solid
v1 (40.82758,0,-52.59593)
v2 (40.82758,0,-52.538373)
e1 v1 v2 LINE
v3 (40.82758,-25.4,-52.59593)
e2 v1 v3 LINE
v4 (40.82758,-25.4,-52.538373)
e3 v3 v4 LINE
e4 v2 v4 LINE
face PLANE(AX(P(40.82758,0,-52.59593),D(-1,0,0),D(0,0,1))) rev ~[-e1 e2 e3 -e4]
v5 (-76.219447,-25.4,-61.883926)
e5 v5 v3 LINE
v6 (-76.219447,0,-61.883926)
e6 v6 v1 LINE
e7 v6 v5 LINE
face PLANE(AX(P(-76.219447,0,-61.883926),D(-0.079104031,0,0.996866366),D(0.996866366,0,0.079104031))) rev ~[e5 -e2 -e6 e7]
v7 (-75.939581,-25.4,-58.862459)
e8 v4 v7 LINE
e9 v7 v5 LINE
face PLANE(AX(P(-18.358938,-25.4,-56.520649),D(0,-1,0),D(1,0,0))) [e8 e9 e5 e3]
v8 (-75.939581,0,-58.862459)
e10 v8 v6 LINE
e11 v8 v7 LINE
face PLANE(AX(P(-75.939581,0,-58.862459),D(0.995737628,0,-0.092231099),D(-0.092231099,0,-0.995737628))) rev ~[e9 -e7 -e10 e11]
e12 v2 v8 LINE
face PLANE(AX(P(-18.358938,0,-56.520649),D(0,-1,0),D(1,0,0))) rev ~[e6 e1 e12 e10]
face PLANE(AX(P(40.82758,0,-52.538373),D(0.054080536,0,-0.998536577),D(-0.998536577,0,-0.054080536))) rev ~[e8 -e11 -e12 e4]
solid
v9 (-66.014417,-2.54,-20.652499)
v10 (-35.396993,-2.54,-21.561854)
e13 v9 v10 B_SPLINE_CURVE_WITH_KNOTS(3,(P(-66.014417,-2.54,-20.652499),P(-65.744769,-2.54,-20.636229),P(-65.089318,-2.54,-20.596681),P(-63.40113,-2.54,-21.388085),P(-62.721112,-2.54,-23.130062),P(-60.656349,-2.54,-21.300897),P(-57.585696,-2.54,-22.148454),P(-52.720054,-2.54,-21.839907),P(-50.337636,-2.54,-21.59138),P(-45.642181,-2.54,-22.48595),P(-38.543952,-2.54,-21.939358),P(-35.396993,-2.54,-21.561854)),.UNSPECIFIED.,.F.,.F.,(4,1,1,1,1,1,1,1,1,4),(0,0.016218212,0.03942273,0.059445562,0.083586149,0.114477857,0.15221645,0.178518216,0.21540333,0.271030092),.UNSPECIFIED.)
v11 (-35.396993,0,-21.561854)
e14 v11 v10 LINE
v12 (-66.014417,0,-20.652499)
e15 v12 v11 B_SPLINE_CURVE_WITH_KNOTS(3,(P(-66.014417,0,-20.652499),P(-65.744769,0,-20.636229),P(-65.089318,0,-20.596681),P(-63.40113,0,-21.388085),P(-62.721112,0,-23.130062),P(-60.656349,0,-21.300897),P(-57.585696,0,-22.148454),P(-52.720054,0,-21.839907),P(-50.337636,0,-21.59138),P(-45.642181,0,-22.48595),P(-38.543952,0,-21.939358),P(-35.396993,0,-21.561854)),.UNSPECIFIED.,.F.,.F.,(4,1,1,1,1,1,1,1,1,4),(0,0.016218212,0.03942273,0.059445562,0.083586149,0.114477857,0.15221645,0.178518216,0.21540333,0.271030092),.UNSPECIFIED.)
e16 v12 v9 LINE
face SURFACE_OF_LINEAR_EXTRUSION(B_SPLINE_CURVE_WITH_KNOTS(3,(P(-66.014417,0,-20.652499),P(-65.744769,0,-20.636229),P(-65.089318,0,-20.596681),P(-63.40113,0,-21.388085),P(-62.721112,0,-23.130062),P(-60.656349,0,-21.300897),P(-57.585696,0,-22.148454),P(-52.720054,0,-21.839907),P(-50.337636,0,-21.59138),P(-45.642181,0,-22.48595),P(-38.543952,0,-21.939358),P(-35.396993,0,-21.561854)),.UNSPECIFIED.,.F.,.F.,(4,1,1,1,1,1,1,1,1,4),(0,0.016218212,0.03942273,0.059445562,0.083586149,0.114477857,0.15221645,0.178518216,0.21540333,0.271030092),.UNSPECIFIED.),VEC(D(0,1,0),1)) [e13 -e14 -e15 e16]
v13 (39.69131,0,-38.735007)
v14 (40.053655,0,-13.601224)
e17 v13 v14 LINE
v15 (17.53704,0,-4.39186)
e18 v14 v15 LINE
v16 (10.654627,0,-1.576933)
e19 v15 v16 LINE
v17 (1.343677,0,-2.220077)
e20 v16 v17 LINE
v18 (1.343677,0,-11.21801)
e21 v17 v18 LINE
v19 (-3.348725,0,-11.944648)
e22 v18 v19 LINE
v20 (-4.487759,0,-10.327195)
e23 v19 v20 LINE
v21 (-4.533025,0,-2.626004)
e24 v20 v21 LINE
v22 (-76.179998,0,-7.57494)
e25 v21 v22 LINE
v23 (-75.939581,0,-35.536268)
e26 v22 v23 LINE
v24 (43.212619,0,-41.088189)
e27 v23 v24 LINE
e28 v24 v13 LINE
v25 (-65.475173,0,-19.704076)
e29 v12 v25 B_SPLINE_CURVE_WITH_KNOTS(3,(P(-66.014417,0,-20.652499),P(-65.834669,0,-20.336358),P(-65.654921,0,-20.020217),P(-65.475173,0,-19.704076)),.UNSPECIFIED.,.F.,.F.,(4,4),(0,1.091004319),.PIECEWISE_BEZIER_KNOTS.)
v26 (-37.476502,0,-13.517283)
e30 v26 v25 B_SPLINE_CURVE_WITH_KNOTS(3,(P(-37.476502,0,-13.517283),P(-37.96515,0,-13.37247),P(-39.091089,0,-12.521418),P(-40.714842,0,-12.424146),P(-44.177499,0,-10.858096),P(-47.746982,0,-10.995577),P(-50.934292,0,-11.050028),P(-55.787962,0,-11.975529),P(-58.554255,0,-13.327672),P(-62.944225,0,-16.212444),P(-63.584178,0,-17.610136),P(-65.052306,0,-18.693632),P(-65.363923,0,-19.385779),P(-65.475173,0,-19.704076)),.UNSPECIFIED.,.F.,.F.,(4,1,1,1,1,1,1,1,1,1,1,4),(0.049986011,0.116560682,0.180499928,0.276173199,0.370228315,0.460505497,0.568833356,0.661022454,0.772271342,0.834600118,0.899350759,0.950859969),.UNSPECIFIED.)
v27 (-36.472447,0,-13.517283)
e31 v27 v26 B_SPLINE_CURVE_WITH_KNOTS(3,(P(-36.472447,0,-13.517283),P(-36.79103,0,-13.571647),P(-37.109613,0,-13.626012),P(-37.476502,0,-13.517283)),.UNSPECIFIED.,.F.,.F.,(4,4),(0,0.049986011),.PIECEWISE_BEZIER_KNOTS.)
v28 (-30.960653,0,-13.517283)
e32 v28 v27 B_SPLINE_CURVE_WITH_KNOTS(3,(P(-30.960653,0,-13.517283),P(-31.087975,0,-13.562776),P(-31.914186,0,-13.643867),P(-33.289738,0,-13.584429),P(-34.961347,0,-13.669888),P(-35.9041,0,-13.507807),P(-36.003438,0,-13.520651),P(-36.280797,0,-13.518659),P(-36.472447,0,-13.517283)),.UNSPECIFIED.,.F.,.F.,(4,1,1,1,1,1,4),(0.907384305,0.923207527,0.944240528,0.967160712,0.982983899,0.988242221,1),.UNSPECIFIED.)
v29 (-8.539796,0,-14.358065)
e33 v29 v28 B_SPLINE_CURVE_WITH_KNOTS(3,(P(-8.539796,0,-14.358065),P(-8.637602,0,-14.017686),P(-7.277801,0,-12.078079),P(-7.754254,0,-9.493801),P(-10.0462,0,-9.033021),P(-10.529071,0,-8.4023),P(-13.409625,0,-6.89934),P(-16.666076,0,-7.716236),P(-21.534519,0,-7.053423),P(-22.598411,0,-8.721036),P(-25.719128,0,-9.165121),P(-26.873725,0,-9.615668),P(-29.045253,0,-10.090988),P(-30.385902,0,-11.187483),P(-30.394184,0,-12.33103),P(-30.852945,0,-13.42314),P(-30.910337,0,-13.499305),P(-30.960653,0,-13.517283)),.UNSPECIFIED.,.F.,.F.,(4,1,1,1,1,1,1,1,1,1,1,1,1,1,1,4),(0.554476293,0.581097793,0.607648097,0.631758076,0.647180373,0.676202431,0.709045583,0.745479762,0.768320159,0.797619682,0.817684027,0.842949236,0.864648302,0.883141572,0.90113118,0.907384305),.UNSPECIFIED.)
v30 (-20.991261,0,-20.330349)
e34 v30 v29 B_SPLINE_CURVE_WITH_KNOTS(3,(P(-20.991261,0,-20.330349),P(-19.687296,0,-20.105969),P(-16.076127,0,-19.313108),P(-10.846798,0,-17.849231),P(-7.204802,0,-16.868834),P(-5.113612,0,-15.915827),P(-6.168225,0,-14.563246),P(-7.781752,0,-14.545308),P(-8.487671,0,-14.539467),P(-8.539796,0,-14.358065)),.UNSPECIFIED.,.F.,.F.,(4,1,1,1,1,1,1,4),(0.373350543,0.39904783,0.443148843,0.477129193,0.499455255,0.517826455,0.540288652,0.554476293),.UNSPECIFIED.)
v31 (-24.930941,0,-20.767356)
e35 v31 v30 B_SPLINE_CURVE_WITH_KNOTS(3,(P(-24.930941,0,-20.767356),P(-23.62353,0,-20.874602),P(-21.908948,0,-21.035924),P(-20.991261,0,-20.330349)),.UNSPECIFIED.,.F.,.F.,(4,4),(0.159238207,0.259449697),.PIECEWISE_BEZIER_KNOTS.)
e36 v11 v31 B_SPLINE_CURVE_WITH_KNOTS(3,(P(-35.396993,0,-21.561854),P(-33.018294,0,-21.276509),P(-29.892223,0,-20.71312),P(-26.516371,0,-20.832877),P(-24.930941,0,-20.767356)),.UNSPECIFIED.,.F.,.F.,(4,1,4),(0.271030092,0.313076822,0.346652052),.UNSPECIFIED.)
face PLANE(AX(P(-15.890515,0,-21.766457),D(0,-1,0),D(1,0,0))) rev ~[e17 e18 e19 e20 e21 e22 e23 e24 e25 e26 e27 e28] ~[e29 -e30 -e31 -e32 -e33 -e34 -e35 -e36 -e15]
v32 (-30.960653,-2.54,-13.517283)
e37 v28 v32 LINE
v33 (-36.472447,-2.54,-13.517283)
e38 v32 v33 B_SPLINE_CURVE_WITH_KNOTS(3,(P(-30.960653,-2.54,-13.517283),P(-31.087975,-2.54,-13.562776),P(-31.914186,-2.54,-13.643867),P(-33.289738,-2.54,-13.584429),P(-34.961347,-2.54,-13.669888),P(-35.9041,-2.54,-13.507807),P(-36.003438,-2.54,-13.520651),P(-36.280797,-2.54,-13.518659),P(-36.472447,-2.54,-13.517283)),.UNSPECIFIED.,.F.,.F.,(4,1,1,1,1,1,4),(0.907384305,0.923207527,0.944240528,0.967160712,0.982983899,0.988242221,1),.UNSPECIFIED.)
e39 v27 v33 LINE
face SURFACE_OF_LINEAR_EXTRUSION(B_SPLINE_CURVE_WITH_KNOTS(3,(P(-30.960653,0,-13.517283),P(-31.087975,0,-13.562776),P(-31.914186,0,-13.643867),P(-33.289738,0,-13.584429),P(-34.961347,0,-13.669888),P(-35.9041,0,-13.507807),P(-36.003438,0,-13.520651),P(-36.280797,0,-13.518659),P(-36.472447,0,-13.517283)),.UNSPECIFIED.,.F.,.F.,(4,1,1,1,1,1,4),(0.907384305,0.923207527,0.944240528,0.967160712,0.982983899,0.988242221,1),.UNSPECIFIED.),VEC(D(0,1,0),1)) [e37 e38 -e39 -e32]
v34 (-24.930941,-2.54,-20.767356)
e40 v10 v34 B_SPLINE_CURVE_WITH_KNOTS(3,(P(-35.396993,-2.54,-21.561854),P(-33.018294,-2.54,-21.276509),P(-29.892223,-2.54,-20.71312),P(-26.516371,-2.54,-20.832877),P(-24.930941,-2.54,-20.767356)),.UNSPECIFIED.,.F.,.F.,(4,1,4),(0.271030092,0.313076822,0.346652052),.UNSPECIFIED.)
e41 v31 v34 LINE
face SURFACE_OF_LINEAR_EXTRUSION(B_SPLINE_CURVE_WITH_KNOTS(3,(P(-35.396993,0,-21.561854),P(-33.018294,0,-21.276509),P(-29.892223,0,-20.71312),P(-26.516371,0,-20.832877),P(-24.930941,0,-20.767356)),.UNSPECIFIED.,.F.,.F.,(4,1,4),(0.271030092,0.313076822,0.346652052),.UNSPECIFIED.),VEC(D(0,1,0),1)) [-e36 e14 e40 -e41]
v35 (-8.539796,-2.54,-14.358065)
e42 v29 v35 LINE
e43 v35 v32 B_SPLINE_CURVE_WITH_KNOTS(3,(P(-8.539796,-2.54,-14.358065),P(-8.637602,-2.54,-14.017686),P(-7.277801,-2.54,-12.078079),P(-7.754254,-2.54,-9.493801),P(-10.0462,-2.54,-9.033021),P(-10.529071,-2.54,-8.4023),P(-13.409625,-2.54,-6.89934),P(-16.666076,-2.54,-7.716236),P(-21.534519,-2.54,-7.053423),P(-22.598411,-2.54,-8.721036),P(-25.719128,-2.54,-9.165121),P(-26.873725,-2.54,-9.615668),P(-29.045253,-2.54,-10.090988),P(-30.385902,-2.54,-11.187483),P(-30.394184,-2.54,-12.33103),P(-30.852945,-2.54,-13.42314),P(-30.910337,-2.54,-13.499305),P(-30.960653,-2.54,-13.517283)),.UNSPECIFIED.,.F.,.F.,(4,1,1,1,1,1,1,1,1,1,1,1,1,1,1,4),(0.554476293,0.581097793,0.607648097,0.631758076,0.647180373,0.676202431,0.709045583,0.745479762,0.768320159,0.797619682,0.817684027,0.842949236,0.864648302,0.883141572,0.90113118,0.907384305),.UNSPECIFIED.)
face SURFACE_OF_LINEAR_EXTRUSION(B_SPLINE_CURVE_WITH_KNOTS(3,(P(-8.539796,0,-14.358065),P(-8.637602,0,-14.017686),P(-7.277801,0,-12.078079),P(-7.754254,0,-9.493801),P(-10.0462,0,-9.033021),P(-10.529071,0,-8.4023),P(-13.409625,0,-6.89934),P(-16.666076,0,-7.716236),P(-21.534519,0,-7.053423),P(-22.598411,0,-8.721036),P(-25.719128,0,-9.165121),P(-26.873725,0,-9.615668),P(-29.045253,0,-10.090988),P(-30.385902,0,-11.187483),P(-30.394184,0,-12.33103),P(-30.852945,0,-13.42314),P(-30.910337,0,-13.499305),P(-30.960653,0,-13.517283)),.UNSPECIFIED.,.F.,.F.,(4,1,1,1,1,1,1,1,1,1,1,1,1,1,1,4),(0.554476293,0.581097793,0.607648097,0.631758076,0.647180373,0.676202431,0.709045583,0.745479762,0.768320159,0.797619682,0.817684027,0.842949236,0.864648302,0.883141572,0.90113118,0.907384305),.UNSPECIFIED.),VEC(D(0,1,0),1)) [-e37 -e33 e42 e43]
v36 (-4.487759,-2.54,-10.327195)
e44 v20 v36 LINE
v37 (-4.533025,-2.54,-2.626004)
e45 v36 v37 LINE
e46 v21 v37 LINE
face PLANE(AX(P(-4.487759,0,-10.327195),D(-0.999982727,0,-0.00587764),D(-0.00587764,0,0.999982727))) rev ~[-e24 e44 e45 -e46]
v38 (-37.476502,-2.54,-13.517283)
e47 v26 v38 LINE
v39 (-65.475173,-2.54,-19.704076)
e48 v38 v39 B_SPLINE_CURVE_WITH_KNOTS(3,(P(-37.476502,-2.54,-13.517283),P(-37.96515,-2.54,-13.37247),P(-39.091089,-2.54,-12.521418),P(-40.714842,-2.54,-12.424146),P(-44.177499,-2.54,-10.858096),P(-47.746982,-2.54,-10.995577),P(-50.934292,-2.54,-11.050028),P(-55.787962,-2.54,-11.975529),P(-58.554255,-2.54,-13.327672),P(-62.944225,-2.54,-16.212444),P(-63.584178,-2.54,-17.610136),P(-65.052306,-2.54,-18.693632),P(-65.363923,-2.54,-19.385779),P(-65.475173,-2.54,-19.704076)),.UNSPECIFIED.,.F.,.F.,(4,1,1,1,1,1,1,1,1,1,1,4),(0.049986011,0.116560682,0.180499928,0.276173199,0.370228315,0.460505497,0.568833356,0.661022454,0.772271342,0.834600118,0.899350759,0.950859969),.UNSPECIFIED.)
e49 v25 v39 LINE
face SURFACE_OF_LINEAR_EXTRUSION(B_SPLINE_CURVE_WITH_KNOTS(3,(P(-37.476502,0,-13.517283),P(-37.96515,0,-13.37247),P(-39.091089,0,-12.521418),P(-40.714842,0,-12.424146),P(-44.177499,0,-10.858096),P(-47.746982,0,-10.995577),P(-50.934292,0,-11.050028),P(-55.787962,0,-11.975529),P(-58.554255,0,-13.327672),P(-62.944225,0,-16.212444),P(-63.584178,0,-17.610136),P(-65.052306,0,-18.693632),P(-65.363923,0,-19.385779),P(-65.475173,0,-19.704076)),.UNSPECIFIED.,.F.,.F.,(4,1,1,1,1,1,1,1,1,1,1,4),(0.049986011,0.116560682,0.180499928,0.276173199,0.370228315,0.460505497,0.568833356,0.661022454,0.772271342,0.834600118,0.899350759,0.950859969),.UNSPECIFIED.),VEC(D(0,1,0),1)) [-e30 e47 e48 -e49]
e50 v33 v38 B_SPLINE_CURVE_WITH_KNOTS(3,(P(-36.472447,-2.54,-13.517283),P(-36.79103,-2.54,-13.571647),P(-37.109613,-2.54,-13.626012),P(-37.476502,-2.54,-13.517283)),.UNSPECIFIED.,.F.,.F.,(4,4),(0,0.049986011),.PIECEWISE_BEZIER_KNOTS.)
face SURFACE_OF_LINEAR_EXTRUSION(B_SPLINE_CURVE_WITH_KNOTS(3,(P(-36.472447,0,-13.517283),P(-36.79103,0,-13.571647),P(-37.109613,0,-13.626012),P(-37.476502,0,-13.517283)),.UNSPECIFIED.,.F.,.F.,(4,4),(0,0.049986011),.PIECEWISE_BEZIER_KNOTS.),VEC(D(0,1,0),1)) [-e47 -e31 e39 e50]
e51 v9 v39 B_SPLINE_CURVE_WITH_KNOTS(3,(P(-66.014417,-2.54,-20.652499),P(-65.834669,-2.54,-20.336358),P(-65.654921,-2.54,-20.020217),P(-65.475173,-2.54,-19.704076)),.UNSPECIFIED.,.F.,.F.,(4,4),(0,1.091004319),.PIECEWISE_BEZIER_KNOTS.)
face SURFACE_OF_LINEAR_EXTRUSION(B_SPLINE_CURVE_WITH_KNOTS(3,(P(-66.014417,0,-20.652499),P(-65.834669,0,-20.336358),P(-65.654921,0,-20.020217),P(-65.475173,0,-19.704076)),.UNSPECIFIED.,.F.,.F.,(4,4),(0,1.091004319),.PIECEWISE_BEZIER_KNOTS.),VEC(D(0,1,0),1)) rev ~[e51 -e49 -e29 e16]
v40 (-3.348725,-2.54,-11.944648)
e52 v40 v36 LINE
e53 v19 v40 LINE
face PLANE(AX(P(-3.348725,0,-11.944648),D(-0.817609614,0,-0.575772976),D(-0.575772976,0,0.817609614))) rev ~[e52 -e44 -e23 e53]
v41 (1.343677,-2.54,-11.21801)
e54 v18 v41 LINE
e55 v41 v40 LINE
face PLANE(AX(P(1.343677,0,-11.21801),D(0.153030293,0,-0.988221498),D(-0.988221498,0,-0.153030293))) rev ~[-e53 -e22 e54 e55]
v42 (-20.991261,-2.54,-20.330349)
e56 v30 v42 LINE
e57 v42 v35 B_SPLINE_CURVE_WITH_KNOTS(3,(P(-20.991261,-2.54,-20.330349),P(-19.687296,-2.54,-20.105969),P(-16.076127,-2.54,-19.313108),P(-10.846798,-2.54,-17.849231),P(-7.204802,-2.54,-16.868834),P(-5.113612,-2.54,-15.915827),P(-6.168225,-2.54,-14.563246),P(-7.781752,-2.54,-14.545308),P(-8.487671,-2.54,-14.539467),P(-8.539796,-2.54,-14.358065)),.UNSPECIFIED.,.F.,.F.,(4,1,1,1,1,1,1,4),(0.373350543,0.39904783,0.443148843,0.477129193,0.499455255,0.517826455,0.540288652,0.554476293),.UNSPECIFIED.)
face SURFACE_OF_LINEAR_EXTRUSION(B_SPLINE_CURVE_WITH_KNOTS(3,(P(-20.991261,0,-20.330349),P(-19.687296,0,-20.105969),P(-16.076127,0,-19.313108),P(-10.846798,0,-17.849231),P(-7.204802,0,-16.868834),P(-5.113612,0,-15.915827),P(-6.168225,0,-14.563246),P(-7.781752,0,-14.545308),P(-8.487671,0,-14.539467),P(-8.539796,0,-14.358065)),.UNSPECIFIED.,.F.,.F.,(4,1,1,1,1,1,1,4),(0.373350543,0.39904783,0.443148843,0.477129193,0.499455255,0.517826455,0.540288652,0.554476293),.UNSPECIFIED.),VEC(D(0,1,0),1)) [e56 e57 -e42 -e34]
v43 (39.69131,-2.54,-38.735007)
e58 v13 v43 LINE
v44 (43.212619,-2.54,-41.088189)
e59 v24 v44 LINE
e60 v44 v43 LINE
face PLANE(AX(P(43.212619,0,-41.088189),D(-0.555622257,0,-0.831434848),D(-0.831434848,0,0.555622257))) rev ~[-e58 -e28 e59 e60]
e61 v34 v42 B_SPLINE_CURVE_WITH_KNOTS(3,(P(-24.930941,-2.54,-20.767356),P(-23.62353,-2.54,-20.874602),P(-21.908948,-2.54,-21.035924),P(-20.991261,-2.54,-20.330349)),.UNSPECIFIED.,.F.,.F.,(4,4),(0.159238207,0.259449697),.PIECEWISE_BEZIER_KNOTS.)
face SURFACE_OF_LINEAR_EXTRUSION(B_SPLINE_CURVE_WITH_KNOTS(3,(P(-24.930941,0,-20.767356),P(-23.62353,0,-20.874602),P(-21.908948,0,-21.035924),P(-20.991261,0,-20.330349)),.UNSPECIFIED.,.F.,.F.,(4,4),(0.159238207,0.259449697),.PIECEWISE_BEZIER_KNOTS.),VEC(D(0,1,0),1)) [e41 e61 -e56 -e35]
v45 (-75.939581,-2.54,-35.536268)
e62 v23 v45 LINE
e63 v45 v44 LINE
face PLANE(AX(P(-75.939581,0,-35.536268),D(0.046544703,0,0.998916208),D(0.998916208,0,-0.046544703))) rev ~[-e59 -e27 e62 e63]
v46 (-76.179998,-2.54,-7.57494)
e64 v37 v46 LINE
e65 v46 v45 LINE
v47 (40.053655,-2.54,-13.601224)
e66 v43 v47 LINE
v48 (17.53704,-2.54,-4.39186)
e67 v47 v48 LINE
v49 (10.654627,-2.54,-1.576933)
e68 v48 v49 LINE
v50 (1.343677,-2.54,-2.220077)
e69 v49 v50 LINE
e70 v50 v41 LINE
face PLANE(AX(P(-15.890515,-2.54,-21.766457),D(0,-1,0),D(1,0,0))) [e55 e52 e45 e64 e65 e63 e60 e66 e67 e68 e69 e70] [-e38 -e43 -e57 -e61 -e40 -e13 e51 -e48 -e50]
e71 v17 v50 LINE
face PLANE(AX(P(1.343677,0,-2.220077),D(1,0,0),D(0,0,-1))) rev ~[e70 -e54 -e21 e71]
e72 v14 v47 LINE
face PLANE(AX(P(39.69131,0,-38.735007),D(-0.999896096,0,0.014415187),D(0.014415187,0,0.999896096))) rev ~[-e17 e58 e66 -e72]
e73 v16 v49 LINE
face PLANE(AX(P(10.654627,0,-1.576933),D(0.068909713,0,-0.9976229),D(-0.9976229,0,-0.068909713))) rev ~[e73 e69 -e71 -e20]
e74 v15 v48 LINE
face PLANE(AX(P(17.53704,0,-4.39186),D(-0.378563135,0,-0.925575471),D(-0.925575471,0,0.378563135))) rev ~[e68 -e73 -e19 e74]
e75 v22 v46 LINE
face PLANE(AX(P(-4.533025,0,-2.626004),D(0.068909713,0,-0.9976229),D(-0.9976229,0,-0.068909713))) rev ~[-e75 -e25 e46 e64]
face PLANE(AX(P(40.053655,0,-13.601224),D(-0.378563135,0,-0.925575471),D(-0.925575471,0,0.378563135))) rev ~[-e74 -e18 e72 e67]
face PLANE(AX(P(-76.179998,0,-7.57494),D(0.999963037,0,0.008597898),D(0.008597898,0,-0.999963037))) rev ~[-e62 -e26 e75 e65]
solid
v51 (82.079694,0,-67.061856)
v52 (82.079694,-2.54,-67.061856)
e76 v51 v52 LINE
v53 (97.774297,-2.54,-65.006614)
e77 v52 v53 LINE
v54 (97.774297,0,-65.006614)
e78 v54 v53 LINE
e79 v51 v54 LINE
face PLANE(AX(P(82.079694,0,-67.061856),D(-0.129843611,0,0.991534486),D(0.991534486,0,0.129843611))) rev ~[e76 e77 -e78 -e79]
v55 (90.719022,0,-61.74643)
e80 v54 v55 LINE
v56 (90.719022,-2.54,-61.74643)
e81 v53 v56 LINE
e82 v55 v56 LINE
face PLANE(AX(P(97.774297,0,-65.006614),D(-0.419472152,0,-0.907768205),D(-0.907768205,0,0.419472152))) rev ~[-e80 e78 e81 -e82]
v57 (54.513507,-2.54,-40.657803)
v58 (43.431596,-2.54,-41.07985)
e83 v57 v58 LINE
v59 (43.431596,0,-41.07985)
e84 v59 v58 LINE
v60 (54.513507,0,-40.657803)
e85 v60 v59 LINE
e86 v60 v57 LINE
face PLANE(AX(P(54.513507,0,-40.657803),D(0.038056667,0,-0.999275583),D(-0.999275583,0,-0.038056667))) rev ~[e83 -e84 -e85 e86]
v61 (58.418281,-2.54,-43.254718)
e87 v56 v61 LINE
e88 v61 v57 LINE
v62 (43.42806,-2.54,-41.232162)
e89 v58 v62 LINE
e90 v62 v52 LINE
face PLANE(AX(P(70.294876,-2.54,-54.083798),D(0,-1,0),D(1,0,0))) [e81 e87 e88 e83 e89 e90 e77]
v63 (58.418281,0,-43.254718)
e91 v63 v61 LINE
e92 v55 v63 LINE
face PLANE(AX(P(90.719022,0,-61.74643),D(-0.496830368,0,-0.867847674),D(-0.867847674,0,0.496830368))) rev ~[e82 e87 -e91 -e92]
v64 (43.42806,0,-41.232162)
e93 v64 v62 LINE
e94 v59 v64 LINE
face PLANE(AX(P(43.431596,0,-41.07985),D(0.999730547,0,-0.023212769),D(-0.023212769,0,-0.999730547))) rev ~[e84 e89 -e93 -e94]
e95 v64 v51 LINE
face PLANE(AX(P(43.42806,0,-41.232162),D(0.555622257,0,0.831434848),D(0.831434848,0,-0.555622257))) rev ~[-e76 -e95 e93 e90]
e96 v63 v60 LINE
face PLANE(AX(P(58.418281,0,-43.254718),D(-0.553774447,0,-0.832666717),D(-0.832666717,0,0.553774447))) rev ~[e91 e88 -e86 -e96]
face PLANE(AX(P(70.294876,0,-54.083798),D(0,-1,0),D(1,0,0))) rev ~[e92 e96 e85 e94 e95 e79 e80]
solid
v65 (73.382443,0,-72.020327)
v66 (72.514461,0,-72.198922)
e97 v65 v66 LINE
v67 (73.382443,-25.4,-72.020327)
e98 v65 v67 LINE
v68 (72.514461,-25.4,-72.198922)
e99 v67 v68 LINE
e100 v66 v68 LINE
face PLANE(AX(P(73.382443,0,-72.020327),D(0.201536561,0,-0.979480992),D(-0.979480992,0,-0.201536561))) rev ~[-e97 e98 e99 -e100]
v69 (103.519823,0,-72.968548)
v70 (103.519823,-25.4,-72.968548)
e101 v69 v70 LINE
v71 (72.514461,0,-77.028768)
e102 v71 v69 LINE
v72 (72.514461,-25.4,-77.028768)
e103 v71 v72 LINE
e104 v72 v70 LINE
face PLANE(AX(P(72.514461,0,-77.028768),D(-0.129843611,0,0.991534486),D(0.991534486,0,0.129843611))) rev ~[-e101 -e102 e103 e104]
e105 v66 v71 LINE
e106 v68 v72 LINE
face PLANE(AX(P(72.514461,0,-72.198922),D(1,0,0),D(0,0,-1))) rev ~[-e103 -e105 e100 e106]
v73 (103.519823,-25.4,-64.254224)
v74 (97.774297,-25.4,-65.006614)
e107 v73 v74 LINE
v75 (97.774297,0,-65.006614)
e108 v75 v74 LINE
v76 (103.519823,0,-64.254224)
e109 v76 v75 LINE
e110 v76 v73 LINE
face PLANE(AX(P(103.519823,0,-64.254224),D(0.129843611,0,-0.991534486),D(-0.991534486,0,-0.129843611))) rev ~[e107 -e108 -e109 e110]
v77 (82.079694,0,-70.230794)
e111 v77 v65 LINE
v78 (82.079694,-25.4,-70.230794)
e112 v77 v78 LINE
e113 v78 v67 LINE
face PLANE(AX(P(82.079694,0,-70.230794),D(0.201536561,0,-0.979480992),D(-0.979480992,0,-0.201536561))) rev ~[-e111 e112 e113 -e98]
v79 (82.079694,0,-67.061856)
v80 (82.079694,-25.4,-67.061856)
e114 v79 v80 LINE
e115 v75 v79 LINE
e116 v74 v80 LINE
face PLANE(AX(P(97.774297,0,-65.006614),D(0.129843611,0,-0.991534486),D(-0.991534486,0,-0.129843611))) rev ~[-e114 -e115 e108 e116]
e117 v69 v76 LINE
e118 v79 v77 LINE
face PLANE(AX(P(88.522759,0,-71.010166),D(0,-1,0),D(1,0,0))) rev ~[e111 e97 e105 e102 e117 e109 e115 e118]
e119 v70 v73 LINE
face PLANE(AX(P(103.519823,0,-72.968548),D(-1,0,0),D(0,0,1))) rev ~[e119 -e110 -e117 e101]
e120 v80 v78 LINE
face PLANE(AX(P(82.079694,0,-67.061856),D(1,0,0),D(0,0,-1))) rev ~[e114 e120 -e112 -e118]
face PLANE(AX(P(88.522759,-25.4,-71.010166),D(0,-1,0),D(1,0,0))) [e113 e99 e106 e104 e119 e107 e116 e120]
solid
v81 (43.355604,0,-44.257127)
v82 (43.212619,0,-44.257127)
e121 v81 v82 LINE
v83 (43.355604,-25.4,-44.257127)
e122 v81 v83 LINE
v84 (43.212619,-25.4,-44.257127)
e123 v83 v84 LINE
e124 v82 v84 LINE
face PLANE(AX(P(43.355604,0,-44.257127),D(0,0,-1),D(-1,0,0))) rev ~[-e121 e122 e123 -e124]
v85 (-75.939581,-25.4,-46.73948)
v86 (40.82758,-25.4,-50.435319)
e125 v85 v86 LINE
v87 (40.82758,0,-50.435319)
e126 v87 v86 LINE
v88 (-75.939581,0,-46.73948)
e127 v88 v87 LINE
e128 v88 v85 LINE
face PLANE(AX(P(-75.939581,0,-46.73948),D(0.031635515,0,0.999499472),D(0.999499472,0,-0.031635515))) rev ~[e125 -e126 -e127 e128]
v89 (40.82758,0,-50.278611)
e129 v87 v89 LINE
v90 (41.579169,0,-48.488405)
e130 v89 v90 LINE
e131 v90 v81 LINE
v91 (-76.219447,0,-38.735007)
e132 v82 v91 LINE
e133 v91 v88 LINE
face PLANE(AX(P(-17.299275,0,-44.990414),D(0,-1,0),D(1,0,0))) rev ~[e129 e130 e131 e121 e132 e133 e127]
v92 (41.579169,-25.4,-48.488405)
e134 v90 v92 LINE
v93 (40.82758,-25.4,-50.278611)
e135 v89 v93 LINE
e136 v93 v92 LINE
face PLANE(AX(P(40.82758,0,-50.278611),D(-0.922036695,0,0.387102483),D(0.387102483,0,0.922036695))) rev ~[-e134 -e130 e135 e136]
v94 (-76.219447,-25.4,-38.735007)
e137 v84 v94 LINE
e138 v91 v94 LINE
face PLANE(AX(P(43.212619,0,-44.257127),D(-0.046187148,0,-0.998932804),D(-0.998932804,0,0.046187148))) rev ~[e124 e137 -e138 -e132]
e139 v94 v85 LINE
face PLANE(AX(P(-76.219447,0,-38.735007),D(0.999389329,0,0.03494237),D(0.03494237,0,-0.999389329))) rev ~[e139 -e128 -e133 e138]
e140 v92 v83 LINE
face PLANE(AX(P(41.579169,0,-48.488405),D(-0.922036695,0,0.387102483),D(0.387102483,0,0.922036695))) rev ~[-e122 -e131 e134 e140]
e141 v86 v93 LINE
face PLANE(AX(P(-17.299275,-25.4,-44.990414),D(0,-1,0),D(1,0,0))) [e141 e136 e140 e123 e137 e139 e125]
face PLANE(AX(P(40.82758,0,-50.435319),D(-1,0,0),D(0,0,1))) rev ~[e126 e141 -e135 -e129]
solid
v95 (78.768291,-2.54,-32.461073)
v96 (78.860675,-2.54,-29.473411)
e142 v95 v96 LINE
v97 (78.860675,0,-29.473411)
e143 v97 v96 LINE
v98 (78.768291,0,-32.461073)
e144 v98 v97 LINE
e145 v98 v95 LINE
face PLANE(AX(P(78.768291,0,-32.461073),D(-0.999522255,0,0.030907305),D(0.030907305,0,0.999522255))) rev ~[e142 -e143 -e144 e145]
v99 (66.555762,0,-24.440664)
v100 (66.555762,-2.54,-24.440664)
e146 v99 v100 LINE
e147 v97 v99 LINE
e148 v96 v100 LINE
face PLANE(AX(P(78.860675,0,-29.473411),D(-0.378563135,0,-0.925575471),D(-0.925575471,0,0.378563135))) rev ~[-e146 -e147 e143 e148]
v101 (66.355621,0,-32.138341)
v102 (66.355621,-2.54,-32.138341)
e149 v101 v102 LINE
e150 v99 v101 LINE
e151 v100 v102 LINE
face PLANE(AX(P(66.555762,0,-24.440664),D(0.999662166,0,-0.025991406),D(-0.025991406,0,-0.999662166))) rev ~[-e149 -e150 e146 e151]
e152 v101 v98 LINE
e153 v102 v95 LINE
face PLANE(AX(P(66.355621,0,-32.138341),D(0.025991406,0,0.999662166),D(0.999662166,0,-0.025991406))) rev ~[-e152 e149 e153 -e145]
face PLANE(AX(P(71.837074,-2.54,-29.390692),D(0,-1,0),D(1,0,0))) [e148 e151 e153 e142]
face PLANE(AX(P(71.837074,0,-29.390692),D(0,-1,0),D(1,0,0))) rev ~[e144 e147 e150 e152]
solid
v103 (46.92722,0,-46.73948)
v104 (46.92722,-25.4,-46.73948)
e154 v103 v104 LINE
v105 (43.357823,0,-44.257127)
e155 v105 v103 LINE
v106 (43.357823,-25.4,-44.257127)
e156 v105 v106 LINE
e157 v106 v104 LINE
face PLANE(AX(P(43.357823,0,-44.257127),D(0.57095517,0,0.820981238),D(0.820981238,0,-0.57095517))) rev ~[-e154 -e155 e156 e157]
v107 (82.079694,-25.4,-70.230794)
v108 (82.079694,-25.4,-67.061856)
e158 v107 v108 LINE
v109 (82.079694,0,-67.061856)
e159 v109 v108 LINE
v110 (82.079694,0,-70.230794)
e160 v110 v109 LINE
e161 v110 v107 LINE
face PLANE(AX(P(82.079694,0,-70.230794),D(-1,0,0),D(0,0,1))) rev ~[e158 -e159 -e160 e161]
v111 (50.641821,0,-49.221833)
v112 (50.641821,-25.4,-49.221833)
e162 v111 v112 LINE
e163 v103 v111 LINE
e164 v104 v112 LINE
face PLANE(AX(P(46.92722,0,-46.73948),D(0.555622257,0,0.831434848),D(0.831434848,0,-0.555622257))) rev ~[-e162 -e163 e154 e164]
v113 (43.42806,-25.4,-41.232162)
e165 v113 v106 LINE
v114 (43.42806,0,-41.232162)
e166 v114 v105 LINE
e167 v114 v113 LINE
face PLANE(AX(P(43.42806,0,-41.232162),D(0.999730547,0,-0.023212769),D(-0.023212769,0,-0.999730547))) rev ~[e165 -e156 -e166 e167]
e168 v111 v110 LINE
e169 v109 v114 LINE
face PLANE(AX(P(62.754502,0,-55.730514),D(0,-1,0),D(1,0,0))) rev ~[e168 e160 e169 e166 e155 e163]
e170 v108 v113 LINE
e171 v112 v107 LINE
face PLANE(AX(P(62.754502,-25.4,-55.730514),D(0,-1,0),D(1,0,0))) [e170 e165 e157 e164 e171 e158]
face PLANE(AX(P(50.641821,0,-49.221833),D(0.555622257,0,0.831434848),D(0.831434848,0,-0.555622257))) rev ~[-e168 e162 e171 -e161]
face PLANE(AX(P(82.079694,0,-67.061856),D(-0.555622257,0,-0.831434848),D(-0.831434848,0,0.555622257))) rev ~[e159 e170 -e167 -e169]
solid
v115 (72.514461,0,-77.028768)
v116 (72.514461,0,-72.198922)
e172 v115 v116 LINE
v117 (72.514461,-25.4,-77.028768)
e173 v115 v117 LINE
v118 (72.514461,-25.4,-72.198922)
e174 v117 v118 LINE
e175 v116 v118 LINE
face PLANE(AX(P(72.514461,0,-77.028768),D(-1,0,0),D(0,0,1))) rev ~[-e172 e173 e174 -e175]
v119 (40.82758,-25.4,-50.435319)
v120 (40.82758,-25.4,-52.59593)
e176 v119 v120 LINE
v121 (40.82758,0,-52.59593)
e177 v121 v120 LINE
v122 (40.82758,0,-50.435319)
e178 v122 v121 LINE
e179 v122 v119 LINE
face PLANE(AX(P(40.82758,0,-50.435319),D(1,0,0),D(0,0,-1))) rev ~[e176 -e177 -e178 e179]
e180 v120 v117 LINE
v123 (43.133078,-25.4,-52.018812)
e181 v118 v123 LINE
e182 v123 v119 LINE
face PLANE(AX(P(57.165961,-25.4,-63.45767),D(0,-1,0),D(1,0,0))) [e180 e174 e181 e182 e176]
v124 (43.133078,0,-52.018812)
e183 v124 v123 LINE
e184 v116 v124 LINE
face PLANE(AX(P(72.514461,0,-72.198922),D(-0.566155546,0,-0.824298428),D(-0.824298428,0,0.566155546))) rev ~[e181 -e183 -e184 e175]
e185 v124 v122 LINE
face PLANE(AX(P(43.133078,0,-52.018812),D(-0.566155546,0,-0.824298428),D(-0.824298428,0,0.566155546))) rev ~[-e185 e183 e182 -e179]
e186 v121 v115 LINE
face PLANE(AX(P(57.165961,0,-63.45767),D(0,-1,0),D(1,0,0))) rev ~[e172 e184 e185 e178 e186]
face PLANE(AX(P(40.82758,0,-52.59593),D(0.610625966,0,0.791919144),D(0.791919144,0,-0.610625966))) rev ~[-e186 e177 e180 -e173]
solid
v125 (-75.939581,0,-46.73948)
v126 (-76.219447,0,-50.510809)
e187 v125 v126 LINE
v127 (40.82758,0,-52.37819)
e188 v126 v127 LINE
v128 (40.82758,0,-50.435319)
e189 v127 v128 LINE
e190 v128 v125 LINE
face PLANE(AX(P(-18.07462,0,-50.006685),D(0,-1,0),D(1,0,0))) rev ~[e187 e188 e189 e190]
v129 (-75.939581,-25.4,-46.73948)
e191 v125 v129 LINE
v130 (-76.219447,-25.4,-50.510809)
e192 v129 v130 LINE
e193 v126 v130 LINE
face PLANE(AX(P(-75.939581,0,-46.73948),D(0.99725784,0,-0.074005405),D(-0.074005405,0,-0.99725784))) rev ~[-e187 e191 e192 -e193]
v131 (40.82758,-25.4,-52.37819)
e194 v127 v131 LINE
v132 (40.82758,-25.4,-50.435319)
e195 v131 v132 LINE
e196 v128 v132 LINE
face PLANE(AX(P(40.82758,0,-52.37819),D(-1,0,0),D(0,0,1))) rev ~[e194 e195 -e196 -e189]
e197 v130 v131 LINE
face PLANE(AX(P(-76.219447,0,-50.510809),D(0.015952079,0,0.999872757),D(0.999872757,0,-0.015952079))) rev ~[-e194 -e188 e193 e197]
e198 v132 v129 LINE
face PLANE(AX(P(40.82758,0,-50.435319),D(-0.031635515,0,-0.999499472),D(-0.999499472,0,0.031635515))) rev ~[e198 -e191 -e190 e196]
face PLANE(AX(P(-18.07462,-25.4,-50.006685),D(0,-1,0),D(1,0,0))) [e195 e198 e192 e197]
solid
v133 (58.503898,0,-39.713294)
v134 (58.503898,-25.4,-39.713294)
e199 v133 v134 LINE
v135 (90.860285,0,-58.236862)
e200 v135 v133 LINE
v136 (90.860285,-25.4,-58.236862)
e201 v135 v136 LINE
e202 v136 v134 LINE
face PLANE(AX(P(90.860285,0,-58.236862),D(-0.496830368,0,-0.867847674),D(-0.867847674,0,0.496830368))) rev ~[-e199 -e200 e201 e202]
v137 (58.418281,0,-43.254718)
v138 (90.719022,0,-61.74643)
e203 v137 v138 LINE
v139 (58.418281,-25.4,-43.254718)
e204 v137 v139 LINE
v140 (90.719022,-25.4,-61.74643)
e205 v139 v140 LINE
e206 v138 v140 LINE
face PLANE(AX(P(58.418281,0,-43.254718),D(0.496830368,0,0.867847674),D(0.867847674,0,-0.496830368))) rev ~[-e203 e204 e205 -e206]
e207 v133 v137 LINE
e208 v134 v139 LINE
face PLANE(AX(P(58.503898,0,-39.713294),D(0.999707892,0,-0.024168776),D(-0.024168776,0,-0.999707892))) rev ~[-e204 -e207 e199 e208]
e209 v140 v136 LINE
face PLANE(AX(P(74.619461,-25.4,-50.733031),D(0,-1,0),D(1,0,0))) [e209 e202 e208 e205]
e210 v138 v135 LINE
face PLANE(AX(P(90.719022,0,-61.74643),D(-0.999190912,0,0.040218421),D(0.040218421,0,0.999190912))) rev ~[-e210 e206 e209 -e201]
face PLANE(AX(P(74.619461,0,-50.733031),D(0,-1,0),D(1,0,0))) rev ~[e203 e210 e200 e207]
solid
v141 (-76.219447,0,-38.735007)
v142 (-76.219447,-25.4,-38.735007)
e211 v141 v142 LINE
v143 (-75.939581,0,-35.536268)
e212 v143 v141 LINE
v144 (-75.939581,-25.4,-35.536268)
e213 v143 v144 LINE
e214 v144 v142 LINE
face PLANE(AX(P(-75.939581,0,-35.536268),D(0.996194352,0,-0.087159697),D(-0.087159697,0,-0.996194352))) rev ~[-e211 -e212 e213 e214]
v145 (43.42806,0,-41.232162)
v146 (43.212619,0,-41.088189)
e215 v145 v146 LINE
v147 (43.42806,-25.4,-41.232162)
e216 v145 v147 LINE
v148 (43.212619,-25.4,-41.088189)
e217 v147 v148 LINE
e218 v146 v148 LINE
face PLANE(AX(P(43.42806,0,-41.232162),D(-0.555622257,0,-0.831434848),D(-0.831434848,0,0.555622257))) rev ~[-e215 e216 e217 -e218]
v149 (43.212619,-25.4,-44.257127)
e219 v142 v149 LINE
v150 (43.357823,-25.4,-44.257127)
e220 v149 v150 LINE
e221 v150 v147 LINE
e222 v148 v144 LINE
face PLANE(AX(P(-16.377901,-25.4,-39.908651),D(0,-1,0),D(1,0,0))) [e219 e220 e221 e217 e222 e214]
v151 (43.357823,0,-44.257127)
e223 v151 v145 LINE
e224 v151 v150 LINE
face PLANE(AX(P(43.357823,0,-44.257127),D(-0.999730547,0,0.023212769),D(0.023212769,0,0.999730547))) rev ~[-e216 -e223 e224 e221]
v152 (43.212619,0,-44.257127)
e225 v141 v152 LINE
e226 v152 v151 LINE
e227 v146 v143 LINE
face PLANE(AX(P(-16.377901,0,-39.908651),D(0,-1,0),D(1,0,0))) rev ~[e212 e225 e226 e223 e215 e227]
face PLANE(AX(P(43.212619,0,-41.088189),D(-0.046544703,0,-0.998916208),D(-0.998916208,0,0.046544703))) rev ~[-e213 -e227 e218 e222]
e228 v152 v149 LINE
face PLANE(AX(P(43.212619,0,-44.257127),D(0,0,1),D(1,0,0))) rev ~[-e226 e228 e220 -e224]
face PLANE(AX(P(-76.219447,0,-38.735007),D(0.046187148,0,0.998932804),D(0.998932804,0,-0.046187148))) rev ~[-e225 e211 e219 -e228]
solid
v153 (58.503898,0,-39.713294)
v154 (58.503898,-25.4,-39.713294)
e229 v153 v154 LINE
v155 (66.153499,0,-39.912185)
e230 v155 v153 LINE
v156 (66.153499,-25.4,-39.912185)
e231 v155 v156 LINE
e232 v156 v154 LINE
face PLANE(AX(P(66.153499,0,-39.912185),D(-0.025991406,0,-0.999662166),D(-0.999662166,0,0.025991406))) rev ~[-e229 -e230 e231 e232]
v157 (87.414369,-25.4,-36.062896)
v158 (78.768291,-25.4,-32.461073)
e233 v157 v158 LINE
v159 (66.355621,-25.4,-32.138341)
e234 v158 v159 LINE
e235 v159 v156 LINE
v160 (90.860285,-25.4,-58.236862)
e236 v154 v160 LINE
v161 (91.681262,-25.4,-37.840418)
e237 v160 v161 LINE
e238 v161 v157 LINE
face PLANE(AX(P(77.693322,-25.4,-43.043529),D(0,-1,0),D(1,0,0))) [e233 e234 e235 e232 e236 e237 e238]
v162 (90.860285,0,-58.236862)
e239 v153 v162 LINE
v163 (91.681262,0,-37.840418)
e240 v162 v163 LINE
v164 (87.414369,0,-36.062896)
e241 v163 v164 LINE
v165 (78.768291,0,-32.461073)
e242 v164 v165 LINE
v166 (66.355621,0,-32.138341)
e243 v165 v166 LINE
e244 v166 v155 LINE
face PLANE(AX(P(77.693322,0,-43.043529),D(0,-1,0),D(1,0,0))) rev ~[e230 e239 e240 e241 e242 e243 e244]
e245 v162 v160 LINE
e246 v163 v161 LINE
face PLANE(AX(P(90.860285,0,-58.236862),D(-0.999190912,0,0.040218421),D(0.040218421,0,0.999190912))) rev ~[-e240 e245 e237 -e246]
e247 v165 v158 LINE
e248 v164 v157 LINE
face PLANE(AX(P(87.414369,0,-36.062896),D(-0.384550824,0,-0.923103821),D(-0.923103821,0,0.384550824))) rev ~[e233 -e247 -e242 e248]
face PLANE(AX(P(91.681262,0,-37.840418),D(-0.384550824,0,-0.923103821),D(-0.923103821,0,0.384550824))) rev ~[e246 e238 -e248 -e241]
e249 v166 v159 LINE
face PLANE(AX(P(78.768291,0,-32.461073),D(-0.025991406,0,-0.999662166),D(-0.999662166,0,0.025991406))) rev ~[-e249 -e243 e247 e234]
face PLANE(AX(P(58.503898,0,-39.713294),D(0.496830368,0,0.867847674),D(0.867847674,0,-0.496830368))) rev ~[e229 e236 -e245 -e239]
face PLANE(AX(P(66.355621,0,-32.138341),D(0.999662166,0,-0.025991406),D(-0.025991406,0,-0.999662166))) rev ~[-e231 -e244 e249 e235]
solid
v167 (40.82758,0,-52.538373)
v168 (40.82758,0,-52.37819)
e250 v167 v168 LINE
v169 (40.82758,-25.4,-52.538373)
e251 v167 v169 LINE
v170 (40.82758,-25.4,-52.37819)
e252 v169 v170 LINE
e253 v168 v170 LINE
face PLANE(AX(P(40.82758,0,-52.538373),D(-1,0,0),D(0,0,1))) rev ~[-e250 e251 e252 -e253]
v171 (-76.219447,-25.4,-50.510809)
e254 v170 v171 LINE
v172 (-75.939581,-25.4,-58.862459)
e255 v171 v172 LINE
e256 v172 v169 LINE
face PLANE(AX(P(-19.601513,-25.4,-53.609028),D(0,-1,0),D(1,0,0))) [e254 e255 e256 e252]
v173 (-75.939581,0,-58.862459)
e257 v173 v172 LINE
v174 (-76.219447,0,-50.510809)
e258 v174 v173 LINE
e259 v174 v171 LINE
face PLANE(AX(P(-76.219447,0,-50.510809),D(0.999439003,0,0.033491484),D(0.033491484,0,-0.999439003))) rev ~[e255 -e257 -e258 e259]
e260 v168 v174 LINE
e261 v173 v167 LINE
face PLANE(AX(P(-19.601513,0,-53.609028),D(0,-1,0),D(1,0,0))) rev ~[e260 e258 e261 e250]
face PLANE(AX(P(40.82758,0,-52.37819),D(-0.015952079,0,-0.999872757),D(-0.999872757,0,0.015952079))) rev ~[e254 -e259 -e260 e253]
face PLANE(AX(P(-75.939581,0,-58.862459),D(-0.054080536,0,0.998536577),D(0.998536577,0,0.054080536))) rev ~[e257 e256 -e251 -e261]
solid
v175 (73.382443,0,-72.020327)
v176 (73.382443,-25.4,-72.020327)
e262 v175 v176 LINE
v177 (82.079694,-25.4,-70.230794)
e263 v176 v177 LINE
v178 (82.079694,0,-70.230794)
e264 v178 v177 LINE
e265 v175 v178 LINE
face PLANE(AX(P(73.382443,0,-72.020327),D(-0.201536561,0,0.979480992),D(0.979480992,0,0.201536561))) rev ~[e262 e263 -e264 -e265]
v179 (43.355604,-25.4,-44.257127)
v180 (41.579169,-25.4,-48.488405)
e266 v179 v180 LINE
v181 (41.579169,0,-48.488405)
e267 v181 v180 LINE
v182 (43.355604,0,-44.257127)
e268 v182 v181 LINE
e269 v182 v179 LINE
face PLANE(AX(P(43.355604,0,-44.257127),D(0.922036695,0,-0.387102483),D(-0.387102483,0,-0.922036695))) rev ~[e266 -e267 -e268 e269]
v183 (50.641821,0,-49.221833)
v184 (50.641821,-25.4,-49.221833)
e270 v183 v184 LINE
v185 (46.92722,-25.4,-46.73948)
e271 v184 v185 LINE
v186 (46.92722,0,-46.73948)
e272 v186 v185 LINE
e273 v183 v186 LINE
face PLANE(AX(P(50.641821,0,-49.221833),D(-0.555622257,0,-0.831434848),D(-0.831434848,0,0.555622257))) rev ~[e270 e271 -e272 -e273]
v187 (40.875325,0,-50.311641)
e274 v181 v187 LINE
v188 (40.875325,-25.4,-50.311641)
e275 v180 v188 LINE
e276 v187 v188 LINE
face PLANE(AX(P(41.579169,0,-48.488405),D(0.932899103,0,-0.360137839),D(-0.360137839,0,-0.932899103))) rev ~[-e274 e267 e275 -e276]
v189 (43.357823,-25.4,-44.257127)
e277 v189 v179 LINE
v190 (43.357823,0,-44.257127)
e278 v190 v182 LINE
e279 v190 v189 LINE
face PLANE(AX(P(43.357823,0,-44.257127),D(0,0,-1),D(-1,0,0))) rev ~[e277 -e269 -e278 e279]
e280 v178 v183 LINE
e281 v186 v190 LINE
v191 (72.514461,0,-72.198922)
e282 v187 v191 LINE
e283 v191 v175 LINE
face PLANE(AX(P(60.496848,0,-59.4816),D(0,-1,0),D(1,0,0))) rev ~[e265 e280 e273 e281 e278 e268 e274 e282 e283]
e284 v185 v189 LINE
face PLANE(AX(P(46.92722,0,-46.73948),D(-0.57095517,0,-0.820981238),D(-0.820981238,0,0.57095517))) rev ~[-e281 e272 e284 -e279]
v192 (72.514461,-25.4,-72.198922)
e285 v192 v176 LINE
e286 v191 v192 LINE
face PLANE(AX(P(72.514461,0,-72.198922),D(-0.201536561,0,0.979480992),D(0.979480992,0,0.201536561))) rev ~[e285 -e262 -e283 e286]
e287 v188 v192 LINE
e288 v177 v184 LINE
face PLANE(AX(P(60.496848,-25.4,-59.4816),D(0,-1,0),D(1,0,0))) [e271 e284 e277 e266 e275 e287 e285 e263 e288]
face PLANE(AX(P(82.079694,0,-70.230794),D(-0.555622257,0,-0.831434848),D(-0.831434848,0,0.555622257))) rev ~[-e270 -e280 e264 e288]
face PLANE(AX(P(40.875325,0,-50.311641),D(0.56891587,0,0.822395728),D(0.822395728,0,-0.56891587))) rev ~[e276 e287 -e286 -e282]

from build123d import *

# Parameters (mm, degrees)
F2_DEPTH = 2.54
F3_DEPTH = 25.4
F4_DEPTH = 25.4
F5_DEPTH = 25.4
F6_DEPTH = 25.4
F7_DEPTH = 25.4
F8_DEPTH = 25.4
F9_DEPTH = 25.4


with BuildPart() as f2:
    # F1 (on Front) → F2 (new body)
    with BuildSketch(Plane.XZ):
        Polygon((-75.9395807981, -35.5362684962), (43.2126186788, -41.0881893211), (39.6913095639, -38.7350070814), (40.0536553935, -13.6012235172), (17.5370398812, -4.3918604475), (10.6546273111, -1.5769331278), (1.3436772861, -2.2200768364), (1.3436772861, -11.2180095166), (-3.3487246837, -11.9446478784), (-4.4877594337, -10.3271948174), (-4.5330250478, -2.6260036347), (-76.1799983317, -7.5749401003), align=None)
        with BuildLine():
            add(Edge.make_bspline(
                [(-66.0144165158, -20.6524990499), (-65.7447688221, -20.6362292817), (-65.0893175233, -20.5966812308), (-63.4011300364, -21.3880853714), (-62.7211117666, -23.1300616873), (-60.6563493888, -21.3008974775), (-57.5856960421, -22.1484542791), (-52.7200535467, -21.8399065527), (-50.3376359025, -21.5913797584), (-45.6421812362, -22.4859495763), (-38.5439520838, -21.9393578463), (-35.3969931602, -21.5618535876)],
                knots=[0, 0, 0, 0, 0.0162182121, 0.03942273, 0.059445562, 0.0835861488, 0.1144778568, 0.1522164501, 0.1785182165, 0.2154033297, 0.2710300921, 0.2710300921, 0.2710300921, 0.2710300921], degree=3))
            add(Edge.make_bspline(
                [(-66.0144165158, -20.6524990499), (-65.8346687754, -20.3363578767), (-65.654921035, -20.0202167034), (-65.4751732945, -19.7040755302)],
                knots=[0, 0, 0, 0, 1.0910043192, 1.0910043192, 1.0910043192, 1.0910043192], degree=3))
            add(Edge.make_bspline(
                [(-37.4765023589, -13.5172829032), (-37.9651500114, -13.3724704926), (-39.0910887848, -12.521418484), (-40.7148424551, -12.4241464161), (-44.1774993458, -10.8580960742), (-47.7469821934, -10.9955769984), (-50.9342916454, -11.0500276912), (-55.7879620791, -11.9755286432), (-58.5542548518, -13.3276716897), (-62.9442245613, -16.2124442833), (-63.5841784395, -17.6101363453), (-65.0523055179, -18.6936323968), (-65.3639227785, -19.3857793438), (-65.4751732945, -19.7040755302)],
                knots=[0.0499860107, 0.0499860107, 0.0499860107, 0.0499860107, 0.1165606817, 0.1804999277, 0.2761731991, 0.3702283148, 0.4605054966, 0.5688333557, 0.6610224539, 0.7722713424, 0.8346001177, 0.8993507591, 0.9508599689, 0.9508599689, 0.9508599689, 0.9508599689], degree=3))
            add(Edge.make_bspline(
                [(-36.4724472165, -13.5172829032), (-36.7910300454, -13.5716473828), (-37.1096128743, -13.6260118624), (-37.4765023589, -13.5172829032)],
                knots=[0, 0, 0, 0, 0.0499860107, 0.0499860107, 0.0499860107, 0.0499860107], degree=3))
            add(Edge.make_bspline(
                [(-30.9606529772, -13.5172829032), (-31.0879745562, -13.5627755579), (-31.9141861458, -13.6438669397), (-33.2897382857, -13.584429224), (-34.9613470136, -13.6698880256), (-35.9041004236, -13.5078065462), (-36.0034378015, -13.5206507187), (-36.2807973954, -13.5186590829), (-36.4724472165, -13.5172829032)],
                knots=[0.9073843052, 0.9073843052, 0.9073843052, 0.9073843052, 0.9232075265, 0.9442405282, 0.9671607119, 0.9829838985, 0.988242221, 1, 1, 1, 1], degree=3))
            add(Edge.make_bspline(
                [(-8.5397958755, -14.3580650911), (-8.637601772, -14.01768561), (-7.2778006188, -12.0780786534), (-7.7542537931, -9.4938009197), (-10.0462000987, -9.0330212983), (-10.5290707793, -8.4023002118), (-13.4096250382, -6.8993403789), (-16.6660760009, -7.7162362423), (-21.5345194114, -7.0534230417), (-22.5984108349, -8.7210362807), (-25.7191280706, -9.16512128), (-26.8737253757, -9.6156684928), (-29.0452531025, -10.0909884532), (-30.3859018922, -11.1874827895), (-30.3941837838, -12.3310298265), (-30.8529446387, -13.4231402736), (-30.9103371918, -13.4993048144), (-30.9606529772, -13.5172829032)],
                knots=[0.554476293, 0.554476293, 0.554476293, 0.554476293, 0.5810977929, 0.6076480968, 0.6317580763, 0.6471803733, 0.6762024306, 0.7090455826, 0.7454797624, 0.7683201585, 0.797619682, 0.8176840265, 0.8429492365, 0.8646483023, 0.8831415723, 0.9011311798, 0.9073843052, 0.9073843052, 0.9073843052, 0.9073843052], degree=3))
            add(Edge.make_bspline(
                [(-20.9912610222, -20.330348604), (-19.6872959585, -20.1059692944), (-16.0761265907, -19.3131081509), (-10.8467979722, -17.8492309133), (-7.2048022263, -16.868833743), (-5.1136117259, -15.9158271855), (-6.1682253657, -14.5632464267), (-7.7817523952, -14.5453076076), (-8.48767128, -14.5394666573), (-8.5397958755, -14.3580650911)],
                knots=[0.3733505427, 0.3733505427, 0.3733505427, 0.3733505427, 0.3990478297, 0.4431488427, 0.4771291925, 0.4994552547, 0.5178264553, 0.5402886523, 0.554476293, 0.554476293, 0.554476293, 0.554476293], degree=3))
            add(Edge.make_bspline(
                [(-24.9309411219, -20.7673563349), (-23.623529814, -20.8746017701), (-21.9089478749, -21.0359237512), (-20.9912610222, -20.330348604)],
                knots=[0.1592382066, 0.1592382066, 0.1592382066, 0.1592382066, 0.2594496968, 0.2594496968, 0.2594496968, 0.2594496968], degree=3))
            add(Edge.make_bspline(
                [(-35.3969931602, -21.5618535876), (-33.0182940399, -21.2765085705), (-29.8922232703, -20.7131202508), (-26.5163706359, -20.8328768709), (-24.9309411217, -20.7673563277)],
                knots=[0.2710300921, 0.2710300921, 0.2710300921, 0.2710300921, 0.3130768218, 0.3466520524, 0.3466520524, 0.3466520524, 0.3466520524], degree=3))
        make_face(mode=Mode.SUBTRACT)
    extrude(amount=F2_DEPTH)


with BuildPart() as f2b:
    # F1 (on Front) → F2, piece 2 (new body)
    with BuildSketch(Plane.XZ):
        Polygon((82.0796936751, -67.0618563889), (97.7742969991, -65.0066137313), (90.7190218569, -61.746429652), (58.4182813764, -43.2547181845), (54.5135065913, -40.6578034163), (43.4315963593, -41.0798497192), (43.4280598169, -41.2321619868), align=None)
    extrude(amount=F2_DEPTH)


with BuildPart() as f2c:
    # F1 (on Front) → F2, piece 3 (new body)
    with BuildSketch(Plane.XZ):
        Polygon((66.3556205179, -32.1383414705), (78.7682905793, -32.4610732496), (78.8606753134, -29.4734106984), (66.5557615891, -24.4406641931), align=None)
    extrude(amount=F2_DEPTH)


with BuildPart() as f3:
    # F1 (on Front) → F3 (new body)
    with BuildSketch(Plane.XZ):
        Polygon((90.8602854007, -58.2368624827), (91.6812624183, -37.8404182892), (87.4143689871, -36.0628962517), (78.7682905793, -32.4610732496), (66.3556205179, -32.1383414705), (66.153499105, -39.9121851788), (58.5038982693, -39.7132941043), align=None)
    extrude(amount=F3_DEPTH)


with BuildPart() as f4:
    # F1 (on Front) → F4 (new body)
    with BuildSketch(Plane.XZ):
        Polygon((-76.2194469571, -38.7350070815), (-75.9395807981, -46.7394799352), (40.8275795716, -50.4353190995), (40.8275795716, -50.2786114812), (41.5791692127, -48.4884053749), (43.3556044359, -44.2571267486), (43.2126186788, -44.2571267486), align=None)
    extrude(amount=F4_DEPTH)


with BuildPart() as f5:
    # F1 (on Front) → F5 (new body)
    with BuildSketch(Plane.XZ):
        Polygon((40.8753246491, -50.3116405101), (72.5144609455, -72.1989219612), (73.3824430708, -72.0203272423), (82.0796936751, -70.2307938163), (50.64182051, -49.2218331218), (46.9272195944, -46.7394799352), (43.3578230828, -44.2571267486), (43.3556044359, -44.2571267486), (41.5791692127, -48.4884053749), align=None)
    extrude(amount=F5_DEPTH)


with BuildPart() as f6:
    # F1 (on Front) → F6 (new body)
    with BuildSketch(Plane.XZ):
        Polygon((-75.9395807981, -58.8624589145), (40.8275795716, -52.5383734534), (40.8275795716, -52.3781898479), (-76.2194469571, -50.5108088255), align=None)
    extrude(amount=F6_DEPTH)


with BuildPart() as f7:
    # F1 (on Front) → F7 (new body)
    with BuildSketch(Plane.XZ):
        Polygon((-76.2194469571, -61.8839263917), (40.8275795716, -52.5959296441), (40.8275795716, -52.5383734534), (-75.9395807981, -58.8624589145), align=None)
    extrude(amount=F7_DEPTH)


with BuildPart() as f7b:
    # F1 (on Front) → F7, piece 2 (new body)
    with BuildSketch(Plane.XZ):
        Polygon((-75.9395807981, -46.7394799352), (-76.2194469571, -50.5108088255), (40.8275795716, -52.3781898479), (40.8275795716, -50.4353190995), align=None)
    extrude(amount=F7_DEPTH)


with BuildPart() as f7c:
    # F1 (on Front) → F7, piece 3 (new body)
    with BuildSketch(Plane.XZ):
        Polygon((43.3578230828, -44.2571267486), (43.4280598169, -41.2321619868), (43.2126186788, -41.0881893211), (-75.9395807981, -35.5362684962), (-76.2194469571, -38.7350070815), (43.2126186788, -44.2571267486), (43.3556044359, -44.2571267486), align=None)
    extrude(amount=F7_DEPTH)


with BuildPart() as f8:
    # F1 (on Front) → F8 (new body)
    with BuildSketch(Plane.XZ):
        Polygon((40.8275795716, -52.5959296441), (72.5144609455, -77.0287681371), (72.5144609455, -73.0264203811), (72.5144609455, -72.1989219612), (43.1330775626, -52.0188117153), (40.8275795716, -50.4353190995), (40.8275795716, -52.3781898479), (40.8275795716, -52.5383734534), align=None)
    extrude(amount=F8_DEPTH)


with BuildPart() as f8b:
    # F1 (on Front) → F8, piece 2 (new body)
    with BuildSketch(Plane.XZ):
        Polygon((82.0796936751, -70.2307938163), (82.0796936751, -67.0618563889), (43.4280598169, -41.2321619868), (43.3578230828, -44.2571267486), (46.9272195944, -46.7394799352), (50.64182051, -49.2218331218), align=None)
    extrude(amount=F8_DEPTH)


with BuildPart() as f8c:
    # F1 (on Front) → F8, piece 3 (new body)
    with BuildSketch(Plane.XZ):
        Polygon((58.4182813764, -43.2547181845), (90.7190218569, -61.746429652), (90.8602854007, -58.2368624827), (58.5038982693, -39.7132941043), align=None)
    extrude(amount=F8_DEPTH)


with BuildPart() as f9:
    # F1 (on Front) → F9 (new body)
    with BuildSketch(Plane.XZ):
        Polygon((72.5144609455, -73.0264203811), (72.5144609455, -77.0287681371), (103.5198234022, -72.9685480588), (103.5198234022, -70.2307938163), (103.5198234022, -64.2542244729), (97.7742969991, -65.0066137313), (82.0796936751, -67.0618563889), (82.0796936751, -70.2307938163), (73.3824430708, -72.0203272423), (72.5144609455, -72.1989219612), align=None)
    extrude(amount=F9_DEPTH)


solid = Compound([f2.part, f2b.part, f2c.part, f3.part, f4.part, f5.part, f6.part, f7.part, f7b.part, f7c.part, f8.part, f8b.part, f8c.part, f9.part])
